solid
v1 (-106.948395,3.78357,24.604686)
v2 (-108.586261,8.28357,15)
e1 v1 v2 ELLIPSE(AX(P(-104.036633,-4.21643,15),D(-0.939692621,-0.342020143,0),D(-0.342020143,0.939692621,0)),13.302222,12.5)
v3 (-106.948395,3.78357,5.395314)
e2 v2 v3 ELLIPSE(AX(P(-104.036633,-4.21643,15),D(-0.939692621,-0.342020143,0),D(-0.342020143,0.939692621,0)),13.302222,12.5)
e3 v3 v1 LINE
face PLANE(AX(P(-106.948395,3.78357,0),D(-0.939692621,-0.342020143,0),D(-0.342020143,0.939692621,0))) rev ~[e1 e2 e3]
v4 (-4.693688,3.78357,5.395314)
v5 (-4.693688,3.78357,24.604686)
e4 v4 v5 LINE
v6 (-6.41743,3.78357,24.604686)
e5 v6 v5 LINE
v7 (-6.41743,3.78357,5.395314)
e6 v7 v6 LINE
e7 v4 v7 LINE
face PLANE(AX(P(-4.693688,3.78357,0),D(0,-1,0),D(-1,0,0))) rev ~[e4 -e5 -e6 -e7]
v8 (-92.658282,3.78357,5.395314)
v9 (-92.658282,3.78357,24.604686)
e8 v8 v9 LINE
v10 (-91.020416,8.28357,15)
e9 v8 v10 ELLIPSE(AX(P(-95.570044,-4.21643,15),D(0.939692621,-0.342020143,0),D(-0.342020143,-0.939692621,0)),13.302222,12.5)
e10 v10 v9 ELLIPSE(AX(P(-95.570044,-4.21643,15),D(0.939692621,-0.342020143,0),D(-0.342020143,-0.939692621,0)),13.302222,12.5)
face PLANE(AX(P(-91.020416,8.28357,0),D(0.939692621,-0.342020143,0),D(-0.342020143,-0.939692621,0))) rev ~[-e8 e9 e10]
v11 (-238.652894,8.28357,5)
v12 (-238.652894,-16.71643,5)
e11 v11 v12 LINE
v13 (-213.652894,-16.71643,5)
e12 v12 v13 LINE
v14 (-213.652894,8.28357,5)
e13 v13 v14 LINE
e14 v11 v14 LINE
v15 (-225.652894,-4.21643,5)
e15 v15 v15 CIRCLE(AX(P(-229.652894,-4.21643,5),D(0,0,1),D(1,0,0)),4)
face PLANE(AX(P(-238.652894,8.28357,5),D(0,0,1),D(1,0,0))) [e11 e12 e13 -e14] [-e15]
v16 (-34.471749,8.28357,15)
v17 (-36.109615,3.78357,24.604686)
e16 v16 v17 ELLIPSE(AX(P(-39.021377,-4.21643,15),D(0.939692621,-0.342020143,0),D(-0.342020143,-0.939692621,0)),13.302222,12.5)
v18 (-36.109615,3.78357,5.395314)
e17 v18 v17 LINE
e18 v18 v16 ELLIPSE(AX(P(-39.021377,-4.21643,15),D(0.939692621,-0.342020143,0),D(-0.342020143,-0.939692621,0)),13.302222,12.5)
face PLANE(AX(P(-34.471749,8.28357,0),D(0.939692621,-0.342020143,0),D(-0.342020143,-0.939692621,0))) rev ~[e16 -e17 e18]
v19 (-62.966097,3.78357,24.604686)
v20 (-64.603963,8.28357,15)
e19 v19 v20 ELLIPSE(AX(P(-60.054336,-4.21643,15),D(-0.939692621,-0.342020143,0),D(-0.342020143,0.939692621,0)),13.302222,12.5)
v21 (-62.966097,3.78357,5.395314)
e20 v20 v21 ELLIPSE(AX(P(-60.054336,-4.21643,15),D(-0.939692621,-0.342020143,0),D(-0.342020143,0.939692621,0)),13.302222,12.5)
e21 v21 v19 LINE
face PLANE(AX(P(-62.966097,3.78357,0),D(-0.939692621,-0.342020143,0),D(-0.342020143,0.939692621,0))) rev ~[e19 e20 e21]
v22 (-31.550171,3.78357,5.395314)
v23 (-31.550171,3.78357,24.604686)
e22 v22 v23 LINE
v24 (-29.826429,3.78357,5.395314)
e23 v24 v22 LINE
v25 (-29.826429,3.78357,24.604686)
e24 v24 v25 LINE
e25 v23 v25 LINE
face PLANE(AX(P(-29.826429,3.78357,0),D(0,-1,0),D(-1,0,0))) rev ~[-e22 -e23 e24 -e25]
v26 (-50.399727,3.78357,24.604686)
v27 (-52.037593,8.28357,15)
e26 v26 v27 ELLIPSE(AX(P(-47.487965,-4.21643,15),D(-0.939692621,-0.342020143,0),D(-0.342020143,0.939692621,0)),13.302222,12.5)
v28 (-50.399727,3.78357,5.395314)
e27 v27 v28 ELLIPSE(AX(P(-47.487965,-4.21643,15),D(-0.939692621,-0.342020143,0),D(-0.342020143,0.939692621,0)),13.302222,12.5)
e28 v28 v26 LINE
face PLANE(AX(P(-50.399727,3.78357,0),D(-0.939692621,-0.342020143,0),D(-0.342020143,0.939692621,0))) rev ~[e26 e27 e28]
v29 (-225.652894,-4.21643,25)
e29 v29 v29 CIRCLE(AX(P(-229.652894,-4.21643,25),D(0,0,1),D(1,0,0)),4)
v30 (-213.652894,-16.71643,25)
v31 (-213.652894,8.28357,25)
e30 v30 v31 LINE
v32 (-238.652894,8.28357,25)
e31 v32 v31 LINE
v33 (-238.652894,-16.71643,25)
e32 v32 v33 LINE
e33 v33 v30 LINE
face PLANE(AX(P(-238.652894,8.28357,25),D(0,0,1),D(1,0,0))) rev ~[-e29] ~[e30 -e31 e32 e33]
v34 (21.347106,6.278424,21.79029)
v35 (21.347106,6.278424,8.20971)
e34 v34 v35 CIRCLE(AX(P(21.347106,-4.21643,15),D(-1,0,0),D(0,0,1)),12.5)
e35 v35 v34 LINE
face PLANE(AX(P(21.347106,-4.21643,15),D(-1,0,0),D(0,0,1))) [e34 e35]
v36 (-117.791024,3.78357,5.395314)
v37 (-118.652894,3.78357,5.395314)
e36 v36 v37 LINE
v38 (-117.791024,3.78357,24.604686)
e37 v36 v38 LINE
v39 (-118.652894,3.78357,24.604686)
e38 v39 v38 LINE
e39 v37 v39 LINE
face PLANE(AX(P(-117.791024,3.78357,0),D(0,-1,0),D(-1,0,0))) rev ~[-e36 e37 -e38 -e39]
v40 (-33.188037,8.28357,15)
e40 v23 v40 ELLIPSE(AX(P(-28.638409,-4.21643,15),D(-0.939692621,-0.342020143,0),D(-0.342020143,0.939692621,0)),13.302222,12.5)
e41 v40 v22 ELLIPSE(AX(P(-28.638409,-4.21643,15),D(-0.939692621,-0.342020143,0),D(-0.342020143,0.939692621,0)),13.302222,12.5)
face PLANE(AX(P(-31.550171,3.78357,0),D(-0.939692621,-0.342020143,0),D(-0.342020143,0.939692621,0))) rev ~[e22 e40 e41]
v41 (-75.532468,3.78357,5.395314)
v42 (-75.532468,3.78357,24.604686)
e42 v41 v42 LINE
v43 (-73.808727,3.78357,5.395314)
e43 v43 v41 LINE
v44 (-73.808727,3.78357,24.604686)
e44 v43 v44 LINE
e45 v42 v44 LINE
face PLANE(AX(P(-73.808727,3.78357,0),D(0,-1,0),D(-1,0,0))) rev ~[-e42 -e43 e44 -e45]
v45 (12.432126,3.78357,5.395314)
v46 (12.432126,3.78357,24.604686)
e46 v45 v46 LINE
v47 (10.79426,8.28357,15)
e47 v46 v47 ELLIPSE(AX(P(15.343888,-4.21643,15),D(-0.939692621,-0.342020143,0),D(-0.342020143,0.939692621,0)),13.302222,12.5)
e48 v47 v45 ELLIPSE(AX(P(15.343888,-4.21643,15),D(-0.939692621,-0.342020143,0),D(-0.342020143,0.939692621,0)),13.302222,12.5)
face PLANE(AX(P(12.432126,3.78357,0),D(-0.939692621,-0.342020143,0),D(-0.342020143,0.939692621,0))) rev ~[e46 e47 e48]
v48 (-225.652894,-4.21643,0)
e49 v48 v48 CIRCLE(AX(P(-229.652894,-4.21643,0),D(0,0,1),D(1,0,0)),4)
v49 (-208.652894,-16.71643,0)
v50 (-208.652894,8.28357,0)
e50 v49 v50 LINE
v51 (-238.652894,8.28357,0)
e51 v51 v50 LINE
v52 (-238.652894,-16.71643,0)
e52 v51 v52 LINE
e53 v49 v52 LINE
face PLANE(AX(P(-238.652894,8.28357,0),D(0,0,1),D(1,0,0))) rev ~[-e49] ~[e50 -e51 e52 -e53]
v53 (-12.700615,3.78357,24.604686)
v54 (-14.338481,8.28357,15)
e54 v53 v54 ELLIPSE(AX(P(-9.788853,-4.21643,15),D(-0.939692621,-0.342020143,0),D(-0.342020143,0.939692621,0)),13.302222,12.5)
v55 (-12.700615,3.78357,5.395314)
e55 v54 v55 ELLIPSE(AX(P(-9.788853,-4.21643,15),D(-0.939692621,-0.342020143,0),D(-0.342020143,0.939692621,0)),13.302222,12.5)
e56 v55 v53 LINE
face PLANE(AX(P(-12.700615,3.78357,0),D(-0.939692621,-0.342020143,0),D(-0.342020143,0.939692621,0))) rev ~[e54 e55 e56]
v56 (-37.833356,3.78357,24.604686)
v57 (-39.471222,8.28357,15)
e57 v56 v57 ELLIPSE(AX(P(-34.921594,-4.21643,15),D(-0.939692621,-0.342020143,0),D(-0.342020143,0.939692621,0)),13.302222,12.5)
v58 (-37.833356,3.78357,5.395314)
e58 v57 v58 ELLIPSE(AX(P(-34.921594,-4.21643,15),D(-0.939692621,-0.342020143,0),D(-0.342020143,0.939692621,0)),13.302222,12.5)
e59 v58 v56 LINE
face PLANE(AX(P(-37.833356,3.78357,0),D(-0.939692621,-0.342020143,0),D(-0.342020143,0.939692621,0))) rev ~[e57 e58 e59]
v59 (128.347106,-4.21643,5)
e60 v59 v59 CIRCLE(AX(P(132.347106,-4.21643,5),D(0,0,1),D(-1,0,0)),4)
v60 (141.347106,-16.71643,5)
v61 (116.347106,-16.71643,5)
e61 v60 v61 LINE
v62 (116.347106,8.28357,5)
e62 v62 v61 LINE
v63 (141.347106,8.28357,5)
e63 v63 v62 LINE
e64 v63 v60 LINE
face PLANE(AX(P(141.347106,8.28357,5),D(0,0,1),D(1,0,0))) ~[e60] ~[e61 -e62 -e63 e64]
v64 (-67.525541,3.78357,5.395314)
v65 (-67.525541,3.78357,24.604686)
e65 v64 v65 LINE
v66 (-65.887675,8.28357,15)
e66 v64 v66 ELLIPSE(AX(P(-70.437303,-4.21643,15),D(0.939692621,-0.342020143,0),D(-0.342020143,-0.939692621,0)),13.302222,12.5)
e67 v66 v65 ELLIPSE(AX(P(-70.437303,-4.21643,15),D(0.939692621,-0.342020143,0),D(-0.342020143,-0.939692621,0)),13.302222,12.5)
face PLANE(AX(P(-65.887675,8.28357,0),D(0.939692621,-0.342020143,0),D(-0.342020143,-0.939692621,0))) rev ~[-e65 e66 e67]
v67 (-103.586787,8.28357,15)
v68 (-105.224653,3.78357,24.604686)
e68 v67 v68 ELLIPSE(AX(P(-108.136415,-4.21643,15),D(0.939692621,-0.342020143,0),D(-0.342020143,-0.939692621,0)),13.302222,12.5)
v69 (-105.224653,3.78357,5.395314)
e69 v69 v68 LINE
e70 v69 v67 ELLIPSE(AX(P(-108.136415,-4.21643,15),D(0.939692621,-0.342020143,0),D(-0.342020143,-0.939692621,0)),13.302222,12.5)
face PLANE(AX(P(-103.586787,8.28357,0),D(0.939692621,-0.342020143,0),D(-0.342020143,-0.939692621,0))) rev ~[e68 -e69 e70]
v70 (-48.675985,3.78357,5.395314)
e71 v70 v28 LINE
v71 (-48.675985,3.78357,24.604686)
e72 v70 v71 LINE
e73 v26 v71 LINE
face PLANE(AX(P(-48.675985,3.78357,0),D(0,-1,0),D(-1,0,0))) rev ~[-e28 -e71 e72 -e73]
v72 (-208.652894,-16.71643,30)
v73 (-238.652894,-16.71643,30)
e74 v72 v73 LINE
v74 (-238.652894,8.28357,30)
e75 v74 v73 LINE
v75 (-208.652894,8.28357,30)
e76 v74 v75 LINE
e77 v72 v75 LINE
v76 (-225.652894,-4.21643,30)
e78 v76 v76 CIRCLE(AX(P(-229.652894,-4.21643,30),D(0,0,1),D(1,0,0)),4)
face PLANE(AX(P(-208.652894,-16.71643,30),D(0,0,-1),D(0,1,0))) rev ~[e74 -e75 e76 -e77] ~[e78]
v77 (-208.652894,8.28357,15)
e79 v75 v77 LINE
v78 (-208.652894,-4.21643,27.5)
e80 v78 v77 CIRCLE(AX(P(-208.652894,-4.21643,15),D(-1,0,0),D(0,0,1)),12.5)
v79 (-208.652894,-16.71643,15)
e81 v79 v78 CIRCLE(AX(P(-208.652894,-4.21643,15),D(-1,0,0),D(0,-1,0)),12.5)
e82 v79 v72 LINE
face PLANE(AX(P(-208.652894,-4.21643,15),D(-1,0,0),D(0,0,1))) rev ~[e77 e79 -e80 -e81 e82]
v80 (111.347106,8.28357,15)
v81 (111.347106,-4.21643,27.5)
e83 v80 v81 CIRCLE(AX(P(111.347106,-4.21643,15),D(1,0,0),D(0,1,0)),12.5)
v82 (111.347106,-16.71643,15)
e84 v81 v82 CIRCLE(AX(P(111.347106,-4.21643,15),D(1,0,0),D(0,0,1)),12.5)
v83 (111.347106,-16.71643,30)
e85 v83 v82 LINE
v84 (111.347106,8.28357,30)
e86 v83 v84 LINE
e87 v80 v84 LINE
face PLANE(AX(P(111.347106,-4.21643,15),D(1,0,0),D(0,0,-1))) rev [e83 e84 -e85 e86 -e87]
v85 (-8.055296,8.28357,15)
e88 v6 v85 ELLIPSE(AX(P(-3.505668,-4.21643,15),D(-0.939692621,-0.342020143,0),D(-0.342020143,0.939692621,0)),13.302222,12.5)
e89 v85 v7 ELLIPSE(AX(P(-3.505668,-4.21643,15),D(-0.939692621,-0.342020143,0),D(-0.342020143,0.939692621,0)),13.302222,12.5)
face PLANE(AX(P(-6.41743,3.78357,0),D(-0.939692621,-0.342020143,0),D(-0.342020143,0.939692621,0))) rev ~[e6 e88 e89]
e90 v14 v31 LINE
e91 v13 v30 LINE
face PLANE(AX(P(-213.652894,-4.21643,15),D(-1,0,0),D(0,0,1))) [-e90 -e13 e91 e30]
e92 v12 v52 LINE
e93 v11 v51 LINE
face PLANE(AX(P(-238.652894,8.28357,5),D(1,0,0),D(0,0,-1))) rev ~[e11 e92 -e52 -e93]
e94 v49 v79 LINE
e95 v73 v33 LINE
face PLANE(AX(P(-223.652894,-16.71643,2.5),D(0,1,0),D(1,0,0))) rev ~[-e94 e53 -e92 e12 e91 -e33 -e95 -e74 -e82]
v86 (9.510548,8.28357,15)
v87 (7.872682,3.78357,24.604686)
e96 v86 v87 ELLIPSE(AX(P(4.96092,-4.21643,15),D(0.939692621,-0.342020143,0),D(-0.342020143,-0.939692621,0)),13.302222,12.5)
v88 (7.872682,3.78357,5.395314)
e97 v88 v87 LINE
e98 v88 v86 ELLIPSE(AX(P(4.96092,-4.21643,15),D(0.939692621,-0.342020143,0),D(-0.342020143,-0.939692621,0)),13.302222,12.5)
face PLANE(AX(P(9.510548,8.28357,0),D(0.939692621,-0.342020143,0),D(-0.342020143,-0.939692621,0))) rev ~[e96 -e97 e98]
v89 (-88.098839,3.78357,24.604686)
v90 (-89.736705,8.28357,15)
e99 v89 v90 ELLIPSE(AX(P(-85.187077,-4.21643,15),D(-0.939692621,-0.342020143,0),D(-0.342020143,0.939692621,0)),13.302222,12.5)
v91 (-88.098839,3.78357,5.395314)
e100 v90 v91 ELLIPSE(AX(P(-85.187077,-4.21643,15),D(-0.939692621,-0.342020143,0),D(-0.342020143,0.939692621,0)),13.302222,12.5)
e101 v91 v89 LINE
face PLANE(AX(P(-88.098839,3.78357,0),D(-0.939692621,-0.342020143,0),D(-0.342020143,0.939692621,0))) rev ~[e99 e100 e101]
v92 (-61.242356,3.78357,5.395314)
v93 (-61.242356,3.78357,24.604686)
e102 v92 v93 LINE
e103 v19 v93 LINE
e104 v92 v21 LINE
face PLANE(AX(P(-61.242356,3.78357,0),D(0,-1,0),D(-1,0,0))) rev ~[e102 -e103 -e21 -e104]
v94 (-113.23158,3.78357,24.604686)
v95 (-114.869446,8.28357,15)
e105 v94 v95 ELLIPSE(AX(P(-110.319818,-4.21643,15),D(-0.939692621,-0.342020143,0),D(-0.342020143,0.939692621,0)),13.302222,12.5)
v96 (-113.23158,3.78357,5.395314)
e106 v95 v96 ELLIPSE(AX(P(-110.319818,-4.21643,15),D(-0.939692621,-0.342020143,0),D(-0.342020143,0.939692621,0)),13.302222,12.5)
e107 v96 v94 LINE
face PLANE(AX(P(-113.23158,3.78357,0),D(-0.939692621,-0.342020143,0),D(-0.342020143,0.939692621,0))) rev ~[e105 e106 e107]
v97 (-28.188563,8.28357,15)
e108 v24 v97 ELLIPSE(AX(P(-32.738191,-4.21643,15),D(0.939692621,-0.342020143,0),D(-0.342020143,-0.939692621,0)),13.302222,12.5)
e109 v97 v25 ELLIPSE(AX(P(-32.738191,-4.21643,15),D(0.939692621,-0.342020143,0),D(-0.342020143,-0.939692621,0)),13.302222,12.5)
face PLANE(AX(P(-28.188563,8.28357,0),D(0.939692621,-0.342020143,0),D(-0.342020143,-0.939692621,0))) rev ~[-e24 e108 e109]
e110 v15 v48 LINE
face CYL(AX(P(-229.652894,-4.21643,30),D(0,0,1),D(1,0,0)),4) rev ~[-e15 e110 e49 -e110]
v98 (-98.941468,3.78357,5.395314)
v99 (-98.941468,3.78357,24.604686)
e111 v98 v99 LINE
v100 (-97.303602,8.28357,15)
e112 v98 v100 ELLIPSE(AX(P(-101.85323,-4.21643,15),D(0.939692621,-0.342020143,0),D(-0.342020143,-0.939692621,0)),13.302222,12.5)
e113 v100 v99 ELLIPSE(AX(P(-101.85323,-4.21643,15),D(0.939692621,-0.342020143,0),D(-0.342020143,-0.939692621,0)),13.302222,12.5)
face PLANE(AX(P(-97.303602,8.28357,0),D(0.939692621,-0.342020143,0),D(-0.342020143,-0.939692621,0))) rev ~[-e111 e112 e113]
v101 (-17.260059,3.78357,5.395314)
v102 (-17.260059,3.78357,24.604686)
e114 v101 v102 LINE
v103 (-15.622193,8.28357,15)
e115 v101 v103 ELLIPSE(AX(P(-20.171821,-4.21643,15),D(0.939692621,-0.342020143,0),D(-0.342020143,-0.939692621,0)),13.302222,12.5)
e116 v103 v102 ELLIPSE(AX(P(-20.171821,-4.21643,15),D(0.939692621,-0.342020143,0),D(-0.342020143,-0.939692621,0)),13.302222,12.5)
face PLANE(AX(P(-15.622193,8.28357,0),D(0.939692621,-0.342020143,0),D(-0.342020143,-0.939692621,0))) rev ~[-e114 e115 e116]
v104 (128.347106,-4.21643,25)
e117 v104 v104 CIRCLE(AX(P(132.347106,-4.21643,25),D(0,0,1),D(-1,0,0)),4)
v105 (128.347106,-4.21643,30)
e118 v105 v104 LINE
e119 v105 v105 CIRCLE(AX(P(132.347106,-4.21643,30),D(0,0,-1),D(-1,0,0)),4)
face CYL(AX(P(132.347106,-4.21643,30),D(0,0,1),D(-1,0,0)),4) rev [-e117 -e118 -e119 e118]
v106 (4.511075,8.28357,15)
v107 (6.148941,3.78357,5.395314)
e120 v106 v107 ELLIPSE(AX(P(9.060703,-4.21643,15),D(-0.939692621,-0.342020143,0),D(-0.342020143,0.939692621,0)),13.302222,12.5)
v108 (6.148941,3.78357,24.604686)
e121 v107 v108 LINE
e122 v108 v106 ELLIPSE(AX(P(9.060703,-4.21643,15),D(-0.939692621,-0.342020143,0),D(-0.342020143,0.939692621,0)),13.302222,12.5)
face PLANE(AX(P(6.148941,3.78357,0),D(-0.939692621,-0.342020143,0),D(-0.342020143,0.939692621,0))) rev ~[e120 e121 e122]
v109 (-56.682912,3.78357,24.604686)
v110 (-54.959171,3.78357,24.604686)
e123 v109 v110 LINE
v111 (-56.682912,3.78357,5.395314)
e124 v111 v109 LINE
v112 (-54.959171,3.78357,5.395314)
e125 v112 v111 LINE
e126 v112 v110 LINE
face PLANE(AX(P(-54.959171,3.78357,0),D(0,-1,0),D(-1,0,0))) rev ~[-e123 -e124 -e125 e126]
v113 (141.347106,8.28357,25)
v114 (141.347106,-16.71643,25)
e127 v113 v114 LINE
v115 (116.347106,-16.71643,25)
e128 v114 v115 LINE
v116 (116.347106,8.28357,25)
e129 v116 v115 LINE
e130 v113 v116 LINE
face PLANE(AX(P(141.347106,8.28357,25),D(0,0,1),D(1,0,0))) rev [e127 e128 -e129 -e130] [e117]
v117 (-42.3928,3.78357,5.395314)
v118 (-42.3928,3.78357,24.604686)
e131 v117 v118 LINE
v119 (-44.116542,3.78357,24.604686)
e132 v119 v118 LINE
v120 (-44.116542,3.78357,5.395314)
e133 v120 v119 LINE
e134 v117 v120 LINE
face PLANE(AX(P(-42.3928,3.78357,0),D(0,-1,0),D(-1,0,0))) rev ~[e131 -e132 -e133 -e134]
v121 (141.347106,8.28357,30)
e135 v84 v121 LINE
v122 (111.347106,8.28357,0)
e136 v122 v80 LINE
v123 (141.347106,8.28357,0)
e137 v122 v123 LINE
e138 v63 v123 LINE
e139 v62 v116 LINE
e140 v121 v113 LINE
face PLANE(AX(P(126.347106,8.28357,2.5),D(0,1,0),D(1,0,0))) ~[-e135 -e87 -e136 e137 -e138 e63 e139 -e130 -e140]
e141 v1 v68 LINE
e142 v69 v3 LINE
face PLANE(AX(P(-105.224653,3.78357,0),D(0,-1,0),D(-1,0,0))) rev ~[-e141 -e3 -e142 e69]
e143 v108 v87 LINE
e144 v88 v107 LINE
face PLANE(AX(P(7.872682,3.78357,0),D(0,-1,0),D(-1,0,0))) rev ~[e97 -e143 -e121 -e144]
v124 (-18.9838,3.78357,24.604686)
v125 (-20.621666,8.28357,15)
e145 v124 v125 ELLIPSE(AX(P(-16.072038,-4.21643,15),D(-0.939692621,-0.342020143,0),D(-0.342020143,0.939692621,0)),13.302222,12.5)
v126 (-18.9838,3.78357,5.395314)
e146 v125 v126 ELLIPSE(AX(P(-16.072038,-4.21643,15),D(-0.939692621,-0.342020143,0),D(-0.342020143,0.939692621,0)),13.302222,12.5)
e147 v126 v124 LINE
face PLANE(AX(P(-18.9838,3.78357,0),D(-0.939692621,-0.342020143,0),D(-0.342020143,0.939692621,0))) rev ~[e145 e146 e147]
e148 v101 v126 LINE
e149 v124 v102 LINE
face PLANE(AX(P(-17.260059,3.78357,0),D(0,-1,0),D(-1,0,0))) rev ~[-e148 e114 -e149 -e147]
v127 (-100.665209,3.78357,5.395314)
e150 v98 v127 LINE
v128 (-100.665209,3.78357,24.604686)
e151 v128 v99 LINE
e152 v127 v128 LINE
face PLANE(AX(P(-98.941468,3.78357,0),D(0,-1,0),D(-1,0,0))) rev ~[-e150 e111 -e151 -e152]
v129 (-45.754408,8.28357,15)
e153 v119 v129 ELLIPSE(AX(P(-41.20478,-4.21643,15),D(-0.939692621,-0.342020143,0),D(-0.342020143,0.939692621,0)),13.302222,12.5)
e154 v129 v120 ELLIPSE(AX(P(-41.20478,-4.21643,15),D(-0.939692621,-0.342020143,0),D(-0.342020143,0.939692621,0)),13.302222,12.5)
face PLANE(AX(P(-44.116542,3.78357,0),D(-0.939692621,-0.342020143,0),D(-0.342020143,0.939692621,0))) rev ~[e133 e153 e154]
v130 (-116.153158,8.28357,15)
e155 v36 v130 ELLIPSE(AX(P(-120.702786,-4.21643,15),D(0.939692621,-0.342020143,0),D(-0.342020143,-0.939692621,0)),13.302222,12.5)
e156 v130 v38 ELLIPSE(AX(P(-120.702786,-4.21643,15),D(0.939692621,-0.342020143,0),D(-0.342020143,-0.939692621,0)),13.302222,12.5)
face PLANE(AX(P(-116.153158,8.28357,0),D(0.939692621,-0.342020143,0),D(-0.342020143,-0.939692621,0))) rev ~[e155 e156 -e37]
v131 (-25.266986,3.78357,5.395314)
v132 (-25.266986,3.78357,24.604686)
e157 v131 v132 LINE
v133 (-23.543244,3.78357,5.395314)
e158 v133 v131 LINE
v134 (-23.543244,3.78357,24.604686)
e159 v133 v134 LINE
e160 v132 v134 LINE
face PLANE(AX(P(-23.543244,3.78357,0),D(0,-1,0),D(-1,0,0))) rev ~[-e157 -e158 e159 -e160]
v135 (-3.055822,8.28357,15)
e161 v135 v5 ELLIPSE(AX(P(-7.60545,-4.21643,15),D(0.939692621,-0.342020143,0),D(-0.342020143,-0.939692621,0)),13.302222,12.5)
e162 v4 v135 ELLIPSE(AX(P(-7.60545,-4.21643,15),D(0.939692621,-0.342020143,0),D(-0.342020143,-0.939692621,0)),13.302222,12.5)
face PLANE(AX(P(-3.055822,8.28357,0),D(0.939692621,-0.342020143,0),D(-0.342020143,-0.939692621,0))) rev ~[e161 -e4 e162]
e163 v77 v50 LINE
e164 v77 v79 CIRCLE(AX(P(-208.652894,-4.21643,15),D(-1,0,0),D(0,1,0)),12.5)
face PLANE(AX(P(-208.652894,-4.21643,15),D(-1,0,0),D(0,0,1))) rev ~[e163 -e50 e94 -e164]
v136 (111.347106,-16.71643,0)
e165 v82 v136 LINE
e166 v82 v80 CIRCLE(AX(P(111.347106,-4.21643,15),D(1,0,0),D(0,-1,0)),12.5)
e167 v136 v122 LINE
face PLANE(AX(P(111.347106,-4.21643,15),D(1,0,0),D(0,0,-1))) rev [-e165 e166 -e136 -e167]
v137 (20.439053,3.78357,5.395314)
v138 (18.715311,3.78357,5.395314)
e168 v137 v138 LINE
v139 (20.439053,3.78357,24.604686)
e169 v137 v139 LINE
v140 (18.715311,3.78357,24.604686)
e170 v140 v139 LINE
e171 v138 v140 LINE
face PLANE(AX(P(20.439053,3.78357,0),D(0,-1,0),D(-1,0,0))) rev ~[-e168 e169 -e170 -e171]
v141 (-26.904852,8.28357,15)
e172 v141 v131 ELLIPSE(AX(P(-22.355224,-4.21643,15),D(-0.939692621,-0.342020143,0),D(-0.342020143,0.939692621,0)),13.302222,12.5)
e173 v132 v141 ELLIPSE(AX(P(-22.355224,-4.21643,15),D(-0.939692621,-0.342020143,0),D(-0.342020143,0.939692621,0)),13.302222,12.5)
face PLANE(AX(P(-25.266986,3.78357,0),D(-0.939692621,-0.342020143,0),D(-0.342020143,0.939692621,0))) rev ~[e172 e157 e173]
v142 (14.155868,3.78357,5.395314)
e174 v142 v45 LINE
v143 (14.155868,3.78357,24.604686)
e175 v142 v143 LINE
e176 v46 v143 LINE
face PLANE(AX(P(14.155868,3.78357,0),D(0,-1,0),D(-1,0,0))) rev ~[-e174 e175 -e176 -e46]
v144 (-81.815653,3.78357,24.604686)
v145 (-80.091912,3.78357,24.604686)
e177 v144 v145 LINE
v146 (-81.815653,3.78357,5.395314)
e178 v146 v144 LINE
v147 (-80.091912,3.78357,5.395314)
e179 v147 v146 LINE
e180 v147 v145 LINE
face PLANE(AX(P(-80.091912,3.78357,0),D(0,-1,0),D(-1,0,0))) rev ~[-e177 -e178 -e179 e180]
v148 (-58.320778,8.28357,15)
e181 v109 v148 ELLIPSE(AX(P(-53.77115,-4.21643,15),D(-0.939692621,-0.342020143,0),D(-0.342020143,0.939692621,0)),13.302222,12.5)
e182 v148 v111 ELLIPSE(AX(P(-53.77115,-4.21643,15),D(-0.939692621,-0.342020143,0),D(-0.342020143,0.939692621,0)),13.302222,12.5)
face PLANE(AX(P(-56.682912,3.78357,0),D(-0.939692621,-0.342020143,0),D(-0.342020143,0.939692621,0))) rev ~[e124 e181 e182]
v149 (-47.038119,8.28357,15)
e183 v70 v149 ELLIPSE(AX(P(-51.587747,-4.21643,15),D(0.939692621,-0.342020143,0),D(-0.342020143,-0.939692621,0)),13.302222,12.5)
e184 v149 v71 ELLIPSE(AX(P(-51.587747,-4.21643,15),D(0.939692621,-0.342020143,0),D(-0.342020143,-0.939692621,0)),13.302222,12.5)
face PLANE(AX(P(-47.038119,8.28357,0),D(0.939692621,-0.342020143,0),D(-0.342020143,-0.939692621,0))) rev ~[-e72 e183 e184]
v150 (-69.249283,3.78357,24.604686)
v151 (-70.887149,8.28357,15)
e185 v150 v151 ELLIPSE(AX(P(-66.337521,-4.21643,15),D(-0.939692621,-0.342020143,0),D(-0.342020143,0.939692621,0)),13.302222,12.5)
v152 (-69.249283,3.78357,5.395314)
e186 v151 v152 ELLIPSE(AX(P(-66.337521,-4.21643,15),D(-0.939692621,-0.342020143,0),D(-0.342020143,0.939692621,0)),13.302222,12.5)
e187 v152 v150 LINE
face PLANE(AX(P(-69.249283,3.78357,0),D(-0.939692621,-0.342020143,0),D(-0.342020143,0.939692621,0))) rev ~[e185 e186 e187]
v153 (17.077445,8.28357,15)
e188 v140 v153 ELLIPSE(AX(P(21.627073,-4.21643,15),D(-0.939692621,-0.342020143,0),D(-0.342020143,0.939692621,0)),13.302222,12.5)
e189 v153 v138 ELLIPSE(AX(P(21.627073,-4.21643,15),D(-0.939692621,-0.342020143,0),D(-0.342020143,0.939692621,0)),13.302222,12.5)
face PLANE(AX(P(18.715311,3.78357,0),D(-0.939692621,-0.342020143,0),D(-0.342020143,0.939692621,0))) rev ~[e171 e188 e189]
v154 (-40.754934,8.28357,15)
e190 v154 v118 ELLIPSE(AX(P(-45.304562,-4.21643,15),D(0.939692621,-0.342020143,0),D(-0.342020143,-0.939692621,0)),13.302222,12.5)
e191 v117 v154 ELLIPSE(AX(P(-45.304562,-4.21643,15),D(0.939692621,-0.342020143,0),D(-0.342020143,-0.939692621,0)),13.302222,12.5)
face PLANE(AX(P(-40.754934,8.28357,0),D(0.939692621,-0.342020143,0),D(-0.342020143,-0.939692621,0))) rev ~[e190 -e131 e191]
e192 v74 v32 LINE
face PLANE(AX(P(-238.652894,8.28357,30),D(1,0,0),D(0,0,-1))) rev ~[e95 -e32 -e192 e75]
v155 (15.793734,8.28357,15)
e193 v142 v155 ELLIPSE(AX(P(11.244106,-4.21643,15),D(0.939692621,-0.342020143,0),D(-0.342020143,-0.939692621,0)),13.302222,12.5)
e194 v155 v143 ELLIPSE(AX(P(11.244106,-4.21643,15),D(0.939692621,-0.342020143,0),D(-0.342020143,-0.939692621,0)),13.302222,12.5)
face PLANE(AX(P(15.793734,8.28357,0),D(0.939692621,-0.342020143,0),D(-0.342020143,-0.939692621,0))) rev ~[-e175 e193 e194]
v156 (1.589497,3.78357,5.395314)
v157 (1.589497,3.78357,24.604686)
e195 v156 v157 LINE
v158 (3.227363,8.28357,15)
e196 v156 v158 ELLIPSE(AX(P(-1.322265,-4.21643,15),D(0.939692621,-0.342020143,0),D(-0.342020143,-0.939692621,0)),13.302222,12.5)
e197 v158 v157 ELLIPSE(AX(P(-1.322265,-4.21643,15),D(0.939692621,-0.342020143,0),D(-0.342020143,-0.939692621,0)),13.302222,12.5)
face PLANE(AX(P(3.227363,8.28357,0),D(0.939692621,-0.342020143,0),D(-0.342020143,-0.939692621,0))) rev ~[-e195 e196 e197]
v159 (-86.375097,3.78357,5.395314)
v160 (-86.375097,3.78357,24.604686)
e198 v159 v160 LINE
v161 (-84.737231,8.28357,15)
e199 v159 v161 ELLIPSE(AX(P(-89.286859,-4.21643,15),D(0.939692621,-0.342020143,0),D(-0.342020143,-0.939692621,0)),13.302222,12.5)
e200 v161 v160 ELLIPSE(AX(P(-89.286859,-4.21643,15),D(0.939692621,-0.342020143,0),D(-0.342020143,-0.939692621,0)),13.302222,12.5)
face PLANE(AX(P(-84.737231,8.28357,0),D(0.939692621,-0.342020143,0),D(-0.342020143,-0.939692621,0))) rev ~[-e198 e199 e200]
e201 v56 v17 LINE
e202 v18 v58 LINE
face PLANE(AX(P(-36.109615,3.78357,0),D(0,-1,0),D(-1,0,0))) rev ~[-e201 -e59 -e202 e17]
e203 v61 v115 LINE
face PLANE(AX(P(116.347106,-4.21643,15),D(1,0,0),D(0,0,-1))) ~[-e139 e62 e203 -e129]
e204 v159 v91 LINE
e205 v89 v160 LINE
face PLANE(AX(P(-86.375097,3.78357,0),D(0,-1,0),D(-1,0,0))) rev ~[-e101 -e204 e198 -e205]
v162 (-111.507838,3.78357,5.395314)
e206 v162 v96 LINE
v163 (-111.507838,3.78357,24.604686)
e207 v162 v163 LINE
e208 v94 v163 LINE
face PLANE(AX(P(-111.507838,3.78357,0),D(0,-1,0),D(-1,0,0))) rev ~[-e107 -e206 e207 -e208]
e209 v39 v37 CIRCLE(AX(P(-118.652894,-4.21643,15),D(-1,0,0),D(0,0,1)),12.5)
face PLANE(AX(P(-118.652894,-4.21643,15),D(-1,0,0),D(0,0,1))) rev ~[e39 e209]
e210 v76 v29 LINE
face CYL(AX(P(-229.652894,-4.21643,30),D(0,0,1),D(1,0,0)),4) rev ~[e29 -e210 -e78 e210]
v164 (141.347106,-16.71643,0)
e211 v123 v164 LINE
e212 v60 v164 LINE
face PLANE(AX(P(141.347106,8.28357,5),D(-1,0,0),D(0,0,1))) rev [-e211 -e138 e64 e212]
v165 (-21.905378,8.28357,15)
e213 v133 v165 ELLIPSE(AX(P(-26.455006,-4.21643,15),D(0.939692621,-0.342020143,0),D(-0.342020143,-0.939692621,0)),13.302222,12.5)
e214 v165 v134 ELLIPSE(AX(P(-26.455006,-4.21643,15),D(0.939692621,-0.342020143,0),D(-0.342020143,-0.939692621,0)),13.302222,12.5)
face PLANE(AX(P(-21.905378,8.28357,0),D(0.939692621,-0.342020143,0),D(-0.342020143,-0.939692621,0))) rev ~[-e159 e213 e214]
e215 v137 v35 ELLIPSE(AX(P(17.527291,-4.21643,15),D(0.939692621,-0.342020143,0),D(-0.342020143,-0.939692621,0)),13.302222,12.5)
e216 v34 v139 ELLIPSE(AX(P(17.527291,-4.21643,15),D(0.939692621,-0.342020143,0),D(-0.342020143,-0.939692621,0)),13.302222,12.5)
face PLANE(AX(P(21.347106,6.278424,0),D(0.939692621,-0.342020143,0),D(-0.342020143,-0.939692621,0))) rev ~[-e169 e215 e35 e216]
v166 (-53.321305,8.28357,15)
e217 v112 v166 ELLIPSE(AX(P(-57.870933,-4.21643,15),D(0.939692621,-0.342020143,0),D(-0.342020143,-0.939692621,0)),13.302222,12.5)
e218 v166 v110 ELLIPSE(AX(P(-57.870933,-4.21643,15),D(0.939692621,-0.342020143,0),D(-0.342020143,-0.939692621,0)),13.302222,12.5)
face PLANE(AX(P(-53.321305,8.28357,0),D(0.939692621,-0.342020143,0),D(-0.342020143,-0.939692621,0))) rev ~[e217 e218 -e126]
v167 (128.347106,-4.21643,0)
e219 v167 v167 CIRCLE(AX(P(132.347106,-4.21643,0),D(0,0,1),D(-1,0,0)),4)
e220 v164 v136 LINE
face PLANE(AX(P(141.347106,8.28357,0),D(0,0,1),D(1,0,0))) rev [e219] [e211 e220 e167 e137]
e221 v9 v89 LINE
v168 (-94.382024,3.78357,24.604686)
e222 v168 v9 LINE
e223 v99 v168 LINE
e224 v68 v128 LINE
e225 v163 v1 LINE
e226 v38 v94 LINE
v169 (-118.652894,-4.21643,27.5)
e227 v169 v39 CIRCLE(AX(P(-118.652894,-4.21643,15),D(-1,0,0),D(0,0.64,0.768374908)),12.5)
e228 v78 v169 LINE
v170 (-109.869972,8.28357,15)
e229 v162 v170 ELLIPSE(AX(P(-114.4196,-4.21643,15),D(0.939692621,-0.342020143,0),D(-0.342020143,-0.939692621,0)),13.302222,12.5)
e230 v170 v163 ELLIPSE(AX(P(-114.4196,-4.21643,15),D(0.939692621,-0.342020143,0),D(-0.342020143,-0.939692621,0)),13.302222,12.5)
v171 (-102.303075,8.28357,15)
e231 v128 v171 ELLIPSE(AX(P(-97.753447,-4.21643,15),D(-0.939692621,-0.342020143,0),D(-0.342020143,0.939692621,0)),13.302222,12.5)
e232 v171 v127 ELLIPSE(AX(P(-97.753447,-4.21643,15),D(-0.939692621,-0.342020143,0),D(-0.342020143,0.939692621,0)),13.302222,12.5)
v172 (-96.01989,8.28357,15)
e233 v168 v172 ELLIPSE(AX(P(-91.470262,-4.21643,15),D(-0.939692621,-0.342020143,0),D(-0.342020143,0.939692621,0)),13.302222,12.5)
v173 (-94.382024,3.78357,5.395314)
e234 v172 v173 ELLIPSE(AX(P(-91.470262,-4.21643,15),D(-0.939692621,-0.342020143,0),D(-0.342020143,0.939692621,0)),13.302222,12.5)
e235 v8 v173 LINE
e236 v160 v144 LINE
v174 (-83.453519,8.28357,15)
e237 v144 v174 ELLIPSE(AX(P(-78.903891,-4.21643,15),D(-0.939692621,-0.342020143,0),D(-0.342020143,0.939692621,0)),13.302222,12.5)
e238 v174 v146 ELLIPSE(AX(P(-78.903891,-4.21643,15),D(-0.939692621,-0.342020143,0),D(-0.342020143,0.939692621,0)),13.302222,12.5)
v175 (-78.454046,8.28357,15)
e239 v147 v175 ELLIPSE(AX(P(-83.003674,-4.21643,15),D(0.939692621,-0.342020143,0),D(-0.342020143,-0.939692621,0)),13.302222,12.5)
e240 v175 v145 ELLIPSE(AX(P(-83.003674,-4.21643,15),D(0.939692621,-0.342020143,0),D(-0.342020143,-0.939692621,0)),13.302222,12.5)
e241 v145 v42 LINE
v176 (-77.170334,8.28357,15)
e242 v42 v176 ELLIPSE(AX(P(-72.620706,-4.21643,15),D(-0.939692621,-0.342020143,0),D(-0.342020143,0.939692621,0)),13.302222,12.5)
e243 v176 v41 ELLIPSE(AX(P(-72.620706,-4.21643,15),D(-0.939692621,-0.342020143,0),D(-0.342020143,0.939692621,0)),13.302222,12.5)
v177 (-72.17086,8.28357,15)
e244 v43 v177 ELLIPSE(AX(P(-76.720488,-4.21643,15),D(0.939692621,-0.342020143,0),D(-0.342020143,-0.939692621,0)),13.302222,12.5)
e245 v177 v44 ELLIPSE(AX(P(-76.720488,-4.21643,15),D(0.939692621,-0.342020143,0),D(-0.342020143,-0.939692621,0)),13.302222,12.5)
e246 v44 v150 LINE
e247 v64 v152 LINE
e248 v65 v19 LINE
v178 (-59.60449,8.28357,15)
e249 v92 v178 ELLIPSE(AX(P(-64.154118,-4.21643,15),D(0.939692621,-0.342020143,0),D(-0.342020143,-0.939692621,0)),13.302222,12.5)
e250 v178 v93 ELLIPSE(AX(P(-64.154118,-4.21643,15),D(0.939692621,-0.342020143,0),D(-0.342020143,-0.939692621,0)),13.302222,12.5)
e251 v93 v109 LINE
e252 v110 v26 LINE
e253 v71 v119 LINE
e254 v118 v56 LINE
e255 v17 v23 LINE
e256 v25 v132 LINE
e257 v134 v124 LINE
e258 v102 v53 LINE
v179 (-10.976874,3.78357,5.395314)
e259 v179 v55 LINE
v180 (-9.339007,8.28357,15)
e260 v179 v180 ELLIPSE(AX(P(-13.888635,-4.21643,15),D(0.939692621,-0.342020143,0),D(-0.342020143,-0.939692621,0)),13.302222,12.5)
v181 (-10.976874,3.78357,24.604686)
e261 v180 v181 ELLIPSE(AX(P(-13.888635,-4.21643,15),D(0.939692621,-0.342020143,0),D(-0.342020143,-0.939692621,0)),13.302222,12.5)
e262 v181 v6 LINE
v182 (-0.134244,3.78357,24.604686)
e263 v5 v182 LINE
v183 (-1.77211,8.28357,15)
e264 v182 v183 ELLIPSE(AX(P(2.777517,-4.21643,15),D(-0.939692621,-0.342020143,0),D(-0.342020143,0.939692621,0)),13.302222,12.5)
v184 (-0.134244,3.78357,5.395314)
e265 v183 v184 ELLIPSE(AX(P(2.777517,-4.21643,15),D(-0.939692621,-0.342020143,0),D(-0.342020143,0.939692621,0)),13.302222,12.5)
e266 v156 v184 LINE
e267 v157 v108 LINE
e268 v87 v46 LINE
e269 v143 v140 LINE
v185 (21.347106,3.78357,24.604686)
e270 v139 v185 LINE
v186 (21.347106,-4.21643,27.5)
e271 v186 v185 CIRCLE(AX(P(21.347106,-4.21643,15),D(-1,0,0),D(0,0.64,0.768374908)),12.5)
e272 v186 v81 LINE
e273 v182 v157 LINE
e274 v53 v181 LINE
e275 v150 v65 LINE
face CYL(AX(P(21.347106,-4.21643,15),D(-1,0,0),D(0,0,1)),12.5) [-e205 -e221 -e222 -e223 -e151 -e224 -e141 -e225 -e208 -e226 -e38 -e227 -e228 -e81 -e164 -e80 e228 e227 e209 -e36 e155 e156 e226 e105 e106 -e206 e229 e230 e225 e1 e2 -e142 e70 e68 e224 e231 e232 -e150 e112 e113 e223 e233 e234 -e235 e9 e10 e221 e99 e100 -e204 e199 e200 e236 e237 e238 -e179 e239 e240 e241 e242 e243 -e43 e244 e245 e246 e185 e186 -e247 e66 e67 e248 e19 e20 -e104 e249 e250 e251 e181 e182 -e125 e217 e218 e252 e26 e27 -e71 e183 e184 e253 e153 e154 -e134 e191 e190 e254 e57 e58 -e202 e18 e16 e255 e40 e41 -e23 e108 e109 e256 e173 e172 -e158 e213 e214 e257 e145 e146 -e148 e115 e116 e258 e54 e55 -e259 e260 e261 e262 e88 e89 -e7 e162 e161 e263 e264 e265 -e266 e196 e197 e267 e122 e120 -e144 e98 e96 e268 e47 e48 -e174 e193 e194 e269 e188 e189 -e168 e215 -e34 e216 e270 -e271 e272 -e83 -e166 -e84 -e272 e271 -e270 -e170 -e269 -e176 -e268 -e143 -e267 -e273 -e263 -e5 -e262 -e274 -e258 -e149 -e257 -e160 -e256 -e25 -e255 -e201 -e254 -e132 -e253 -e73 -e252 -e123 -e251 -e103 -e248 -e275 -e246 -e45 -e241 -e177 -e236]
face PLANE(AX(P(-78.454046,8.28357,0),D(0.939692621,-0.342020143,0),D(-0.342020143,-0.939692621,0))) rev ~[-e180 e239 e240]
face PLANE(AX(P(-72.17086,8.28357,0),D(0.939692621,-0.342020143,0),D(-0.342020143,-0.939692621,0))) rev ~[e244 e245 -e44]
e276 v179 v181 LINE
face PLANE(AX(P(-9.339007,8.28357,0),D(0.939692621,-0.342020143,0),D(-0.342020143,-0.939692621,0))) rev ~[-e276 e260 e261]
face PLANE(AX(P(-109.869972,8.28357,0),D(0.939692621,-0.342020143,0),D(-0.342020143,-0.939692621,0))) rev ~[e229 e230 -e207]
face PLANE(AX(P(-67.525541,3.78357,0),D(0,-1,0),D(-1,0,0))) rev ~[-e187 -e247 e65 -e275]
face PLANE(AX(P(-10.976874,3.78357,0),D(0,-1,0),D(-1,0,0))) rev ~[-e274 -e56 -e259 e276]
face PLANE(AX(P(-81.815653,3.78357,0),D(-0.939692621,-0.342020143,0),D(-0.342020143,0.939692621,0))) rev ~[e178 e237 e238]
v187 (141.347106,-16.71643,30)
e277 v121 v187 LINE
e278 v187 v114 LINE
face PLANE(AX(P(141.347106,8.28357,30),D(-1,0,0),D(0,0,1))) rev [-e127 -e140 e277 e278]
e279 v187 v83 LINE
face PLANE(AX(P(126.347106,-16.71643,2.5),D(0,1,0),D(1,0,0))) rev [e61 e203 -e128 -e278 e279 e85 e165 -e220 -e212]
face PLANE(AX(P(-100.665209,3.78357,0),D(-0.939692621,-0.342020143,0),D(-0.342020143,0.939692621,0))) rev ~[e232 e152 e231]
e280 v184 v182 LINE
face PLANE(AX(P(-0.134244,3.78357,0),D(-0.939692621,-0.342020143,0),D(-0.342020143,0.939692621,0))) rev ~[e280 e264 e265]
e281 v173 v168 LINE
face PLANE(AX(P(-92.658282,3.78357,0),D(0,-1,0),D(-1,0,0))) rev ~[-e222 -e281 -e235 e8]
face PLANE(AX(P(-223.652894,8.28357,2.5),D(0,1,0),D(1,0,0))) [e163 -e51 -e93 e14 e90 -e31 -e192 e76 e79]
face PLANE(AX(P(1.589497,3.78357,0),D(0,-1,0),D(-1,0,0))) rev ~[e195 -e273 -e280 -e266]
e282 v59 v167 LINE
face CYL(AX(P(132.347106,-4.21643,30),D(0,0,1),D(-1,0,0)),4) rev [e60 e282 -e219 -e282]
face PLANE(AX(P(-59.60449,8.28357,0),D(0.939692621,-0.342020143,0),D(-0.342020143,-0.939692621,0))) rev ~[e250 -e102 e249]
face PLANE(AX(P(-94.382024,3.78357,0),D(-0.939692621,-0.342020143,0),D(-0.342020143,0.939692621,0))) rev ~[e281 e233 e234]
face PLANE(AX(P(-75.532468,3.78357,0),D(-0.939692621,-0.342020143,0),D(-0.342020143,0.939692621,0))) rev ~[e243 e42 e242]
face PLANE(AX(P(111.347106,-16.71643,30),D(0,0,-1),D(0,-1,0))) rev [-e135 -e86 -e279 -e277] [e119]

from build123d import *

# Parameters (mm, degrees)
BOSS_EXTRUDE1_DEPTH = 30
SKETCH2_R           = 30
SKETCH2_R_2         = 12.5
CUT_EXTRUDE1_DEPTH  = 146.129146151
BOSS_EXTRUDE2_START = 90
SKETCH3_R           = 12.5
BOSS_EXTRUDE2_DEPTH = 90
BOSS_EXTRUDE3_START = -140
SKETCH3_2_R         = 12.5
BOSS_EXTRUDE3_DEPTH = 90
SKETCH4_W           = 30
SKETCH4_H           = 25
BOSS_EXTRUDE4_DEPTH = 5
SKETCH8_W           = 30
SKETCH8_H           = 5
BOSS_EXTRUDE7_DEPTH = 25
SKETCH9_R           = 4
CUT_EXTRUDE2_DEPTH  = 242.111266906


with BuildPart() as part:
    # Sketch1 → Boss-Extrude1 (new body)
    with BuildSketch(Plane.XY):
        Polygon((20.439052972, 3.783569778), (18.715311494, 3.783569778), (17.077445439, 8.283569778), (15.793733726, 8.283569778), (14.155867672, 3.783569778), (12.432126194, 3.783569778), (10.794260139, 8.283569778), (9.510548426, 8.283569778), (7.872682372, 3.783569778), (6.148940894, 3.783569778), (4.511074839, 8.283569778), (3.227363126, 8.283569778), (1.589497072, 3.783569778), (-0.134244406, 3.783569778), (-1.772110461, 8.283569778), (-3.055822174, 8.283569778), (-4.693688228, 3.783569778), (-6.417429706, 3.783569778), (-8.055295761, 8.283569778), (-9.339007474, 8.283569778), (-10.976873528, 3.783569778), (-12.700615006, 3.783569778), (-14.338481061, 8.283569778), (-15.622192774, 8.283569778), (-17.260058828, 3.783569778), (-18.983800306, 3.783569778), (-20.621666361, 8.283569778), (-21.905378074, 8.283569778), (-23.543244128, 3.783569778), (-25.266985606, 3.783569778), (-26.904851661, 8.283569778), (-28.188563374, 8.283569778), (-29.826429428, 3.783569778), (-31.550170906, 3.783569778), (-33.188036961, 8.283569778), (-34.471748674, 8.283569778), (-36.109614728, 3.783569778), (-37.833356206, 3.783569778), (-39.471222261, 8.283569778), (-40.754933974, 8.283569778), (-42.392800028, 3.783569778), (-44.116541506, 3.783569778), (-45.754407561, 8.283569778), (-47.038119274, 8.283569778), (-48.675985328, 3.783569778), (-50.399726806, 3.783569778), (-52.037592861, 8.283569778), (-53.321304574, 8.283569778), (-54.959170628, 3.783569778), (-56.682912106, 3.783569778), (-58.320778161, 8.283569778), (-59.604489874, 8.283569778), (-61.242355928, 3.783569778), (-62.966097406, 3.783569778), (-64.603963461, 8.283569778), (-65.887675174, 8.283569778), (-67.525541228, 3.783569778), (-69.249282706, 3.783569778), (-70.887148761, 8.283569778), (-72.170860474, 8.283569778), (-73.808726528, 3.783569778), (-75.532468006, 3.783569778), (-77.170334061, 8.283569778), (-78.454045774, 8.283569778), (-80.091911828, 3.783569778), (-81.815653306, 3.783569778), (-83.453519361, 8.283569778), (-84.737231074, 8.283569778), (-86.375097128, 3.783569778), (-88.098838606, 3.783569778), (-89.736704661, 8.283569778), (-91.020416374, 8.283569778), (-92.658282428, 3.783569778), (-94.382023906, 3.783569778), (-96.019889961, 8.283569778), (-97.303601674, 8.283569778), (-98.941467728, 3.783569778), (-100.665209206, 3.783569778), (-102.303075261, 8.283569778), (-103.586786974, 8.283569778), (-105.224653028, 3.783569778), (-106.948394506, 3.783569778), (-108.586260561, 8.283569778), (-109.869972274, 8.283569778), (-111.507838328, 3.783569778), (-113.231579806, 3.783569778), (-114.869445861, 8.283569778), (-116.153157574, 8.283569778), (-117.791023628, 3.783569778), (-118.652894367, 3.783569778), (-118.652894367, -23.716430222), (21.347105633, -23.716430222), (21.347105633, 6.278423959), align=None)
    extrude(amount=BOSS_EXTRUDE1_DEPTH)

    # Sketch2 → Cut-Extrude1 (cut, through all)
    with BuildSketch(Plane.ZY.offset(118.652894367)):
        with Locations((15, -4.216430222)):
            Circle(SKETCH2_R)
        with Locations((15, -4.216430222)):
            Circle(SKETCH2_R_2, mode=Mode.SUBTRACT)
    extrude(amount=-CUT_EXTRUDE1_DEPTH, mode=Mode.SUBTRACT)

    # Sketch3 → Boss-Extrude2 (add)
    with BuildSketch(Plane.ZY.offset(118.652894367).offset(BOSS_EXTRUDE2_START)):
        with Locations((15, -4.216430222)):
            Circle(SKETCH3_R)
    extrude(amount=-BOSS_EXTRUDE2_DEPTH)

    # Sketch3<2> → Boss-Extrude3 (add)
    with BuildSketch(Plane.ZY.offset(118.652894367).offset(BOSS_EXTRUDE3_START)):
        with Locations((15, -4.216430222)):
            Circle(SKETCH3_2_R)
    extrude(amount=-BOSS_EXTRUDE3_DEPTH)

    # Sketch4 → Boss-Extrude4 (add)
    with BuildSketch(Plane.ZY.offset(208.652894367)):
        with Locations((15, -4.216430222)):
            Rectangle(SKETCH4_W, SKETCH4_H)
    boss_extrude4 = extrude(amount=BOSS_EXTRUDE4_DEPTH)

    # Sketch8 → Boss-Extrude7 (add)
    with BuildSketch(Plane(origin=(0, 8.283569778, 0), x_dir=(1, 0, 0), z_dir=(0, 1, 0))):
        with Locations((-223.652894367, -2.5)):
            Rectangle(SKETCH8_W, SKETCH8_H)
        with Locations((-223.652894367, -27.5)):
            Rectangle(SKETCH8_W, SKETCH8_H)
    boss_extrude7 = extrude(amount=-BOSS_EXTRUDE7_DEPTH)

    # Sketch9 → Cut-Extrude2 (cut, through all)
    with BuildSketch(Plane.XY.offset(30)):
        with Locations((-229.652894367, -4.216430222)):
            Circle(SKETCH9_R)
    cut_extrude2 = extrude(amount=-CUT_EXTRUDE2_DEPTH, mode=Mode.SUBTRACT)

    # Mirror1: Boss-Extrude4, Boss-Extrude7, Cut-Extrude2 across plane
    add(boss_extrude4.mirror(Plane(origin=(-48.652894367, 0, 0), x_dir=(0, 0, 1), z_dir=(1, 0, 0))))
    add(boss_extrude7.mirror(Plane(origin=(-48.652894367, 0, 0), x_dir=(0, 0, 1), z_dir=(1, 0, 0))))
    add(cut_extrude2.mirror(Plane(origin=(-48.652894367, 0, 0), x_dir=(0, 0, 1), z_dir=(1, 0, 0))), mode=Mode.SUBTRACT)


solid = part.part
